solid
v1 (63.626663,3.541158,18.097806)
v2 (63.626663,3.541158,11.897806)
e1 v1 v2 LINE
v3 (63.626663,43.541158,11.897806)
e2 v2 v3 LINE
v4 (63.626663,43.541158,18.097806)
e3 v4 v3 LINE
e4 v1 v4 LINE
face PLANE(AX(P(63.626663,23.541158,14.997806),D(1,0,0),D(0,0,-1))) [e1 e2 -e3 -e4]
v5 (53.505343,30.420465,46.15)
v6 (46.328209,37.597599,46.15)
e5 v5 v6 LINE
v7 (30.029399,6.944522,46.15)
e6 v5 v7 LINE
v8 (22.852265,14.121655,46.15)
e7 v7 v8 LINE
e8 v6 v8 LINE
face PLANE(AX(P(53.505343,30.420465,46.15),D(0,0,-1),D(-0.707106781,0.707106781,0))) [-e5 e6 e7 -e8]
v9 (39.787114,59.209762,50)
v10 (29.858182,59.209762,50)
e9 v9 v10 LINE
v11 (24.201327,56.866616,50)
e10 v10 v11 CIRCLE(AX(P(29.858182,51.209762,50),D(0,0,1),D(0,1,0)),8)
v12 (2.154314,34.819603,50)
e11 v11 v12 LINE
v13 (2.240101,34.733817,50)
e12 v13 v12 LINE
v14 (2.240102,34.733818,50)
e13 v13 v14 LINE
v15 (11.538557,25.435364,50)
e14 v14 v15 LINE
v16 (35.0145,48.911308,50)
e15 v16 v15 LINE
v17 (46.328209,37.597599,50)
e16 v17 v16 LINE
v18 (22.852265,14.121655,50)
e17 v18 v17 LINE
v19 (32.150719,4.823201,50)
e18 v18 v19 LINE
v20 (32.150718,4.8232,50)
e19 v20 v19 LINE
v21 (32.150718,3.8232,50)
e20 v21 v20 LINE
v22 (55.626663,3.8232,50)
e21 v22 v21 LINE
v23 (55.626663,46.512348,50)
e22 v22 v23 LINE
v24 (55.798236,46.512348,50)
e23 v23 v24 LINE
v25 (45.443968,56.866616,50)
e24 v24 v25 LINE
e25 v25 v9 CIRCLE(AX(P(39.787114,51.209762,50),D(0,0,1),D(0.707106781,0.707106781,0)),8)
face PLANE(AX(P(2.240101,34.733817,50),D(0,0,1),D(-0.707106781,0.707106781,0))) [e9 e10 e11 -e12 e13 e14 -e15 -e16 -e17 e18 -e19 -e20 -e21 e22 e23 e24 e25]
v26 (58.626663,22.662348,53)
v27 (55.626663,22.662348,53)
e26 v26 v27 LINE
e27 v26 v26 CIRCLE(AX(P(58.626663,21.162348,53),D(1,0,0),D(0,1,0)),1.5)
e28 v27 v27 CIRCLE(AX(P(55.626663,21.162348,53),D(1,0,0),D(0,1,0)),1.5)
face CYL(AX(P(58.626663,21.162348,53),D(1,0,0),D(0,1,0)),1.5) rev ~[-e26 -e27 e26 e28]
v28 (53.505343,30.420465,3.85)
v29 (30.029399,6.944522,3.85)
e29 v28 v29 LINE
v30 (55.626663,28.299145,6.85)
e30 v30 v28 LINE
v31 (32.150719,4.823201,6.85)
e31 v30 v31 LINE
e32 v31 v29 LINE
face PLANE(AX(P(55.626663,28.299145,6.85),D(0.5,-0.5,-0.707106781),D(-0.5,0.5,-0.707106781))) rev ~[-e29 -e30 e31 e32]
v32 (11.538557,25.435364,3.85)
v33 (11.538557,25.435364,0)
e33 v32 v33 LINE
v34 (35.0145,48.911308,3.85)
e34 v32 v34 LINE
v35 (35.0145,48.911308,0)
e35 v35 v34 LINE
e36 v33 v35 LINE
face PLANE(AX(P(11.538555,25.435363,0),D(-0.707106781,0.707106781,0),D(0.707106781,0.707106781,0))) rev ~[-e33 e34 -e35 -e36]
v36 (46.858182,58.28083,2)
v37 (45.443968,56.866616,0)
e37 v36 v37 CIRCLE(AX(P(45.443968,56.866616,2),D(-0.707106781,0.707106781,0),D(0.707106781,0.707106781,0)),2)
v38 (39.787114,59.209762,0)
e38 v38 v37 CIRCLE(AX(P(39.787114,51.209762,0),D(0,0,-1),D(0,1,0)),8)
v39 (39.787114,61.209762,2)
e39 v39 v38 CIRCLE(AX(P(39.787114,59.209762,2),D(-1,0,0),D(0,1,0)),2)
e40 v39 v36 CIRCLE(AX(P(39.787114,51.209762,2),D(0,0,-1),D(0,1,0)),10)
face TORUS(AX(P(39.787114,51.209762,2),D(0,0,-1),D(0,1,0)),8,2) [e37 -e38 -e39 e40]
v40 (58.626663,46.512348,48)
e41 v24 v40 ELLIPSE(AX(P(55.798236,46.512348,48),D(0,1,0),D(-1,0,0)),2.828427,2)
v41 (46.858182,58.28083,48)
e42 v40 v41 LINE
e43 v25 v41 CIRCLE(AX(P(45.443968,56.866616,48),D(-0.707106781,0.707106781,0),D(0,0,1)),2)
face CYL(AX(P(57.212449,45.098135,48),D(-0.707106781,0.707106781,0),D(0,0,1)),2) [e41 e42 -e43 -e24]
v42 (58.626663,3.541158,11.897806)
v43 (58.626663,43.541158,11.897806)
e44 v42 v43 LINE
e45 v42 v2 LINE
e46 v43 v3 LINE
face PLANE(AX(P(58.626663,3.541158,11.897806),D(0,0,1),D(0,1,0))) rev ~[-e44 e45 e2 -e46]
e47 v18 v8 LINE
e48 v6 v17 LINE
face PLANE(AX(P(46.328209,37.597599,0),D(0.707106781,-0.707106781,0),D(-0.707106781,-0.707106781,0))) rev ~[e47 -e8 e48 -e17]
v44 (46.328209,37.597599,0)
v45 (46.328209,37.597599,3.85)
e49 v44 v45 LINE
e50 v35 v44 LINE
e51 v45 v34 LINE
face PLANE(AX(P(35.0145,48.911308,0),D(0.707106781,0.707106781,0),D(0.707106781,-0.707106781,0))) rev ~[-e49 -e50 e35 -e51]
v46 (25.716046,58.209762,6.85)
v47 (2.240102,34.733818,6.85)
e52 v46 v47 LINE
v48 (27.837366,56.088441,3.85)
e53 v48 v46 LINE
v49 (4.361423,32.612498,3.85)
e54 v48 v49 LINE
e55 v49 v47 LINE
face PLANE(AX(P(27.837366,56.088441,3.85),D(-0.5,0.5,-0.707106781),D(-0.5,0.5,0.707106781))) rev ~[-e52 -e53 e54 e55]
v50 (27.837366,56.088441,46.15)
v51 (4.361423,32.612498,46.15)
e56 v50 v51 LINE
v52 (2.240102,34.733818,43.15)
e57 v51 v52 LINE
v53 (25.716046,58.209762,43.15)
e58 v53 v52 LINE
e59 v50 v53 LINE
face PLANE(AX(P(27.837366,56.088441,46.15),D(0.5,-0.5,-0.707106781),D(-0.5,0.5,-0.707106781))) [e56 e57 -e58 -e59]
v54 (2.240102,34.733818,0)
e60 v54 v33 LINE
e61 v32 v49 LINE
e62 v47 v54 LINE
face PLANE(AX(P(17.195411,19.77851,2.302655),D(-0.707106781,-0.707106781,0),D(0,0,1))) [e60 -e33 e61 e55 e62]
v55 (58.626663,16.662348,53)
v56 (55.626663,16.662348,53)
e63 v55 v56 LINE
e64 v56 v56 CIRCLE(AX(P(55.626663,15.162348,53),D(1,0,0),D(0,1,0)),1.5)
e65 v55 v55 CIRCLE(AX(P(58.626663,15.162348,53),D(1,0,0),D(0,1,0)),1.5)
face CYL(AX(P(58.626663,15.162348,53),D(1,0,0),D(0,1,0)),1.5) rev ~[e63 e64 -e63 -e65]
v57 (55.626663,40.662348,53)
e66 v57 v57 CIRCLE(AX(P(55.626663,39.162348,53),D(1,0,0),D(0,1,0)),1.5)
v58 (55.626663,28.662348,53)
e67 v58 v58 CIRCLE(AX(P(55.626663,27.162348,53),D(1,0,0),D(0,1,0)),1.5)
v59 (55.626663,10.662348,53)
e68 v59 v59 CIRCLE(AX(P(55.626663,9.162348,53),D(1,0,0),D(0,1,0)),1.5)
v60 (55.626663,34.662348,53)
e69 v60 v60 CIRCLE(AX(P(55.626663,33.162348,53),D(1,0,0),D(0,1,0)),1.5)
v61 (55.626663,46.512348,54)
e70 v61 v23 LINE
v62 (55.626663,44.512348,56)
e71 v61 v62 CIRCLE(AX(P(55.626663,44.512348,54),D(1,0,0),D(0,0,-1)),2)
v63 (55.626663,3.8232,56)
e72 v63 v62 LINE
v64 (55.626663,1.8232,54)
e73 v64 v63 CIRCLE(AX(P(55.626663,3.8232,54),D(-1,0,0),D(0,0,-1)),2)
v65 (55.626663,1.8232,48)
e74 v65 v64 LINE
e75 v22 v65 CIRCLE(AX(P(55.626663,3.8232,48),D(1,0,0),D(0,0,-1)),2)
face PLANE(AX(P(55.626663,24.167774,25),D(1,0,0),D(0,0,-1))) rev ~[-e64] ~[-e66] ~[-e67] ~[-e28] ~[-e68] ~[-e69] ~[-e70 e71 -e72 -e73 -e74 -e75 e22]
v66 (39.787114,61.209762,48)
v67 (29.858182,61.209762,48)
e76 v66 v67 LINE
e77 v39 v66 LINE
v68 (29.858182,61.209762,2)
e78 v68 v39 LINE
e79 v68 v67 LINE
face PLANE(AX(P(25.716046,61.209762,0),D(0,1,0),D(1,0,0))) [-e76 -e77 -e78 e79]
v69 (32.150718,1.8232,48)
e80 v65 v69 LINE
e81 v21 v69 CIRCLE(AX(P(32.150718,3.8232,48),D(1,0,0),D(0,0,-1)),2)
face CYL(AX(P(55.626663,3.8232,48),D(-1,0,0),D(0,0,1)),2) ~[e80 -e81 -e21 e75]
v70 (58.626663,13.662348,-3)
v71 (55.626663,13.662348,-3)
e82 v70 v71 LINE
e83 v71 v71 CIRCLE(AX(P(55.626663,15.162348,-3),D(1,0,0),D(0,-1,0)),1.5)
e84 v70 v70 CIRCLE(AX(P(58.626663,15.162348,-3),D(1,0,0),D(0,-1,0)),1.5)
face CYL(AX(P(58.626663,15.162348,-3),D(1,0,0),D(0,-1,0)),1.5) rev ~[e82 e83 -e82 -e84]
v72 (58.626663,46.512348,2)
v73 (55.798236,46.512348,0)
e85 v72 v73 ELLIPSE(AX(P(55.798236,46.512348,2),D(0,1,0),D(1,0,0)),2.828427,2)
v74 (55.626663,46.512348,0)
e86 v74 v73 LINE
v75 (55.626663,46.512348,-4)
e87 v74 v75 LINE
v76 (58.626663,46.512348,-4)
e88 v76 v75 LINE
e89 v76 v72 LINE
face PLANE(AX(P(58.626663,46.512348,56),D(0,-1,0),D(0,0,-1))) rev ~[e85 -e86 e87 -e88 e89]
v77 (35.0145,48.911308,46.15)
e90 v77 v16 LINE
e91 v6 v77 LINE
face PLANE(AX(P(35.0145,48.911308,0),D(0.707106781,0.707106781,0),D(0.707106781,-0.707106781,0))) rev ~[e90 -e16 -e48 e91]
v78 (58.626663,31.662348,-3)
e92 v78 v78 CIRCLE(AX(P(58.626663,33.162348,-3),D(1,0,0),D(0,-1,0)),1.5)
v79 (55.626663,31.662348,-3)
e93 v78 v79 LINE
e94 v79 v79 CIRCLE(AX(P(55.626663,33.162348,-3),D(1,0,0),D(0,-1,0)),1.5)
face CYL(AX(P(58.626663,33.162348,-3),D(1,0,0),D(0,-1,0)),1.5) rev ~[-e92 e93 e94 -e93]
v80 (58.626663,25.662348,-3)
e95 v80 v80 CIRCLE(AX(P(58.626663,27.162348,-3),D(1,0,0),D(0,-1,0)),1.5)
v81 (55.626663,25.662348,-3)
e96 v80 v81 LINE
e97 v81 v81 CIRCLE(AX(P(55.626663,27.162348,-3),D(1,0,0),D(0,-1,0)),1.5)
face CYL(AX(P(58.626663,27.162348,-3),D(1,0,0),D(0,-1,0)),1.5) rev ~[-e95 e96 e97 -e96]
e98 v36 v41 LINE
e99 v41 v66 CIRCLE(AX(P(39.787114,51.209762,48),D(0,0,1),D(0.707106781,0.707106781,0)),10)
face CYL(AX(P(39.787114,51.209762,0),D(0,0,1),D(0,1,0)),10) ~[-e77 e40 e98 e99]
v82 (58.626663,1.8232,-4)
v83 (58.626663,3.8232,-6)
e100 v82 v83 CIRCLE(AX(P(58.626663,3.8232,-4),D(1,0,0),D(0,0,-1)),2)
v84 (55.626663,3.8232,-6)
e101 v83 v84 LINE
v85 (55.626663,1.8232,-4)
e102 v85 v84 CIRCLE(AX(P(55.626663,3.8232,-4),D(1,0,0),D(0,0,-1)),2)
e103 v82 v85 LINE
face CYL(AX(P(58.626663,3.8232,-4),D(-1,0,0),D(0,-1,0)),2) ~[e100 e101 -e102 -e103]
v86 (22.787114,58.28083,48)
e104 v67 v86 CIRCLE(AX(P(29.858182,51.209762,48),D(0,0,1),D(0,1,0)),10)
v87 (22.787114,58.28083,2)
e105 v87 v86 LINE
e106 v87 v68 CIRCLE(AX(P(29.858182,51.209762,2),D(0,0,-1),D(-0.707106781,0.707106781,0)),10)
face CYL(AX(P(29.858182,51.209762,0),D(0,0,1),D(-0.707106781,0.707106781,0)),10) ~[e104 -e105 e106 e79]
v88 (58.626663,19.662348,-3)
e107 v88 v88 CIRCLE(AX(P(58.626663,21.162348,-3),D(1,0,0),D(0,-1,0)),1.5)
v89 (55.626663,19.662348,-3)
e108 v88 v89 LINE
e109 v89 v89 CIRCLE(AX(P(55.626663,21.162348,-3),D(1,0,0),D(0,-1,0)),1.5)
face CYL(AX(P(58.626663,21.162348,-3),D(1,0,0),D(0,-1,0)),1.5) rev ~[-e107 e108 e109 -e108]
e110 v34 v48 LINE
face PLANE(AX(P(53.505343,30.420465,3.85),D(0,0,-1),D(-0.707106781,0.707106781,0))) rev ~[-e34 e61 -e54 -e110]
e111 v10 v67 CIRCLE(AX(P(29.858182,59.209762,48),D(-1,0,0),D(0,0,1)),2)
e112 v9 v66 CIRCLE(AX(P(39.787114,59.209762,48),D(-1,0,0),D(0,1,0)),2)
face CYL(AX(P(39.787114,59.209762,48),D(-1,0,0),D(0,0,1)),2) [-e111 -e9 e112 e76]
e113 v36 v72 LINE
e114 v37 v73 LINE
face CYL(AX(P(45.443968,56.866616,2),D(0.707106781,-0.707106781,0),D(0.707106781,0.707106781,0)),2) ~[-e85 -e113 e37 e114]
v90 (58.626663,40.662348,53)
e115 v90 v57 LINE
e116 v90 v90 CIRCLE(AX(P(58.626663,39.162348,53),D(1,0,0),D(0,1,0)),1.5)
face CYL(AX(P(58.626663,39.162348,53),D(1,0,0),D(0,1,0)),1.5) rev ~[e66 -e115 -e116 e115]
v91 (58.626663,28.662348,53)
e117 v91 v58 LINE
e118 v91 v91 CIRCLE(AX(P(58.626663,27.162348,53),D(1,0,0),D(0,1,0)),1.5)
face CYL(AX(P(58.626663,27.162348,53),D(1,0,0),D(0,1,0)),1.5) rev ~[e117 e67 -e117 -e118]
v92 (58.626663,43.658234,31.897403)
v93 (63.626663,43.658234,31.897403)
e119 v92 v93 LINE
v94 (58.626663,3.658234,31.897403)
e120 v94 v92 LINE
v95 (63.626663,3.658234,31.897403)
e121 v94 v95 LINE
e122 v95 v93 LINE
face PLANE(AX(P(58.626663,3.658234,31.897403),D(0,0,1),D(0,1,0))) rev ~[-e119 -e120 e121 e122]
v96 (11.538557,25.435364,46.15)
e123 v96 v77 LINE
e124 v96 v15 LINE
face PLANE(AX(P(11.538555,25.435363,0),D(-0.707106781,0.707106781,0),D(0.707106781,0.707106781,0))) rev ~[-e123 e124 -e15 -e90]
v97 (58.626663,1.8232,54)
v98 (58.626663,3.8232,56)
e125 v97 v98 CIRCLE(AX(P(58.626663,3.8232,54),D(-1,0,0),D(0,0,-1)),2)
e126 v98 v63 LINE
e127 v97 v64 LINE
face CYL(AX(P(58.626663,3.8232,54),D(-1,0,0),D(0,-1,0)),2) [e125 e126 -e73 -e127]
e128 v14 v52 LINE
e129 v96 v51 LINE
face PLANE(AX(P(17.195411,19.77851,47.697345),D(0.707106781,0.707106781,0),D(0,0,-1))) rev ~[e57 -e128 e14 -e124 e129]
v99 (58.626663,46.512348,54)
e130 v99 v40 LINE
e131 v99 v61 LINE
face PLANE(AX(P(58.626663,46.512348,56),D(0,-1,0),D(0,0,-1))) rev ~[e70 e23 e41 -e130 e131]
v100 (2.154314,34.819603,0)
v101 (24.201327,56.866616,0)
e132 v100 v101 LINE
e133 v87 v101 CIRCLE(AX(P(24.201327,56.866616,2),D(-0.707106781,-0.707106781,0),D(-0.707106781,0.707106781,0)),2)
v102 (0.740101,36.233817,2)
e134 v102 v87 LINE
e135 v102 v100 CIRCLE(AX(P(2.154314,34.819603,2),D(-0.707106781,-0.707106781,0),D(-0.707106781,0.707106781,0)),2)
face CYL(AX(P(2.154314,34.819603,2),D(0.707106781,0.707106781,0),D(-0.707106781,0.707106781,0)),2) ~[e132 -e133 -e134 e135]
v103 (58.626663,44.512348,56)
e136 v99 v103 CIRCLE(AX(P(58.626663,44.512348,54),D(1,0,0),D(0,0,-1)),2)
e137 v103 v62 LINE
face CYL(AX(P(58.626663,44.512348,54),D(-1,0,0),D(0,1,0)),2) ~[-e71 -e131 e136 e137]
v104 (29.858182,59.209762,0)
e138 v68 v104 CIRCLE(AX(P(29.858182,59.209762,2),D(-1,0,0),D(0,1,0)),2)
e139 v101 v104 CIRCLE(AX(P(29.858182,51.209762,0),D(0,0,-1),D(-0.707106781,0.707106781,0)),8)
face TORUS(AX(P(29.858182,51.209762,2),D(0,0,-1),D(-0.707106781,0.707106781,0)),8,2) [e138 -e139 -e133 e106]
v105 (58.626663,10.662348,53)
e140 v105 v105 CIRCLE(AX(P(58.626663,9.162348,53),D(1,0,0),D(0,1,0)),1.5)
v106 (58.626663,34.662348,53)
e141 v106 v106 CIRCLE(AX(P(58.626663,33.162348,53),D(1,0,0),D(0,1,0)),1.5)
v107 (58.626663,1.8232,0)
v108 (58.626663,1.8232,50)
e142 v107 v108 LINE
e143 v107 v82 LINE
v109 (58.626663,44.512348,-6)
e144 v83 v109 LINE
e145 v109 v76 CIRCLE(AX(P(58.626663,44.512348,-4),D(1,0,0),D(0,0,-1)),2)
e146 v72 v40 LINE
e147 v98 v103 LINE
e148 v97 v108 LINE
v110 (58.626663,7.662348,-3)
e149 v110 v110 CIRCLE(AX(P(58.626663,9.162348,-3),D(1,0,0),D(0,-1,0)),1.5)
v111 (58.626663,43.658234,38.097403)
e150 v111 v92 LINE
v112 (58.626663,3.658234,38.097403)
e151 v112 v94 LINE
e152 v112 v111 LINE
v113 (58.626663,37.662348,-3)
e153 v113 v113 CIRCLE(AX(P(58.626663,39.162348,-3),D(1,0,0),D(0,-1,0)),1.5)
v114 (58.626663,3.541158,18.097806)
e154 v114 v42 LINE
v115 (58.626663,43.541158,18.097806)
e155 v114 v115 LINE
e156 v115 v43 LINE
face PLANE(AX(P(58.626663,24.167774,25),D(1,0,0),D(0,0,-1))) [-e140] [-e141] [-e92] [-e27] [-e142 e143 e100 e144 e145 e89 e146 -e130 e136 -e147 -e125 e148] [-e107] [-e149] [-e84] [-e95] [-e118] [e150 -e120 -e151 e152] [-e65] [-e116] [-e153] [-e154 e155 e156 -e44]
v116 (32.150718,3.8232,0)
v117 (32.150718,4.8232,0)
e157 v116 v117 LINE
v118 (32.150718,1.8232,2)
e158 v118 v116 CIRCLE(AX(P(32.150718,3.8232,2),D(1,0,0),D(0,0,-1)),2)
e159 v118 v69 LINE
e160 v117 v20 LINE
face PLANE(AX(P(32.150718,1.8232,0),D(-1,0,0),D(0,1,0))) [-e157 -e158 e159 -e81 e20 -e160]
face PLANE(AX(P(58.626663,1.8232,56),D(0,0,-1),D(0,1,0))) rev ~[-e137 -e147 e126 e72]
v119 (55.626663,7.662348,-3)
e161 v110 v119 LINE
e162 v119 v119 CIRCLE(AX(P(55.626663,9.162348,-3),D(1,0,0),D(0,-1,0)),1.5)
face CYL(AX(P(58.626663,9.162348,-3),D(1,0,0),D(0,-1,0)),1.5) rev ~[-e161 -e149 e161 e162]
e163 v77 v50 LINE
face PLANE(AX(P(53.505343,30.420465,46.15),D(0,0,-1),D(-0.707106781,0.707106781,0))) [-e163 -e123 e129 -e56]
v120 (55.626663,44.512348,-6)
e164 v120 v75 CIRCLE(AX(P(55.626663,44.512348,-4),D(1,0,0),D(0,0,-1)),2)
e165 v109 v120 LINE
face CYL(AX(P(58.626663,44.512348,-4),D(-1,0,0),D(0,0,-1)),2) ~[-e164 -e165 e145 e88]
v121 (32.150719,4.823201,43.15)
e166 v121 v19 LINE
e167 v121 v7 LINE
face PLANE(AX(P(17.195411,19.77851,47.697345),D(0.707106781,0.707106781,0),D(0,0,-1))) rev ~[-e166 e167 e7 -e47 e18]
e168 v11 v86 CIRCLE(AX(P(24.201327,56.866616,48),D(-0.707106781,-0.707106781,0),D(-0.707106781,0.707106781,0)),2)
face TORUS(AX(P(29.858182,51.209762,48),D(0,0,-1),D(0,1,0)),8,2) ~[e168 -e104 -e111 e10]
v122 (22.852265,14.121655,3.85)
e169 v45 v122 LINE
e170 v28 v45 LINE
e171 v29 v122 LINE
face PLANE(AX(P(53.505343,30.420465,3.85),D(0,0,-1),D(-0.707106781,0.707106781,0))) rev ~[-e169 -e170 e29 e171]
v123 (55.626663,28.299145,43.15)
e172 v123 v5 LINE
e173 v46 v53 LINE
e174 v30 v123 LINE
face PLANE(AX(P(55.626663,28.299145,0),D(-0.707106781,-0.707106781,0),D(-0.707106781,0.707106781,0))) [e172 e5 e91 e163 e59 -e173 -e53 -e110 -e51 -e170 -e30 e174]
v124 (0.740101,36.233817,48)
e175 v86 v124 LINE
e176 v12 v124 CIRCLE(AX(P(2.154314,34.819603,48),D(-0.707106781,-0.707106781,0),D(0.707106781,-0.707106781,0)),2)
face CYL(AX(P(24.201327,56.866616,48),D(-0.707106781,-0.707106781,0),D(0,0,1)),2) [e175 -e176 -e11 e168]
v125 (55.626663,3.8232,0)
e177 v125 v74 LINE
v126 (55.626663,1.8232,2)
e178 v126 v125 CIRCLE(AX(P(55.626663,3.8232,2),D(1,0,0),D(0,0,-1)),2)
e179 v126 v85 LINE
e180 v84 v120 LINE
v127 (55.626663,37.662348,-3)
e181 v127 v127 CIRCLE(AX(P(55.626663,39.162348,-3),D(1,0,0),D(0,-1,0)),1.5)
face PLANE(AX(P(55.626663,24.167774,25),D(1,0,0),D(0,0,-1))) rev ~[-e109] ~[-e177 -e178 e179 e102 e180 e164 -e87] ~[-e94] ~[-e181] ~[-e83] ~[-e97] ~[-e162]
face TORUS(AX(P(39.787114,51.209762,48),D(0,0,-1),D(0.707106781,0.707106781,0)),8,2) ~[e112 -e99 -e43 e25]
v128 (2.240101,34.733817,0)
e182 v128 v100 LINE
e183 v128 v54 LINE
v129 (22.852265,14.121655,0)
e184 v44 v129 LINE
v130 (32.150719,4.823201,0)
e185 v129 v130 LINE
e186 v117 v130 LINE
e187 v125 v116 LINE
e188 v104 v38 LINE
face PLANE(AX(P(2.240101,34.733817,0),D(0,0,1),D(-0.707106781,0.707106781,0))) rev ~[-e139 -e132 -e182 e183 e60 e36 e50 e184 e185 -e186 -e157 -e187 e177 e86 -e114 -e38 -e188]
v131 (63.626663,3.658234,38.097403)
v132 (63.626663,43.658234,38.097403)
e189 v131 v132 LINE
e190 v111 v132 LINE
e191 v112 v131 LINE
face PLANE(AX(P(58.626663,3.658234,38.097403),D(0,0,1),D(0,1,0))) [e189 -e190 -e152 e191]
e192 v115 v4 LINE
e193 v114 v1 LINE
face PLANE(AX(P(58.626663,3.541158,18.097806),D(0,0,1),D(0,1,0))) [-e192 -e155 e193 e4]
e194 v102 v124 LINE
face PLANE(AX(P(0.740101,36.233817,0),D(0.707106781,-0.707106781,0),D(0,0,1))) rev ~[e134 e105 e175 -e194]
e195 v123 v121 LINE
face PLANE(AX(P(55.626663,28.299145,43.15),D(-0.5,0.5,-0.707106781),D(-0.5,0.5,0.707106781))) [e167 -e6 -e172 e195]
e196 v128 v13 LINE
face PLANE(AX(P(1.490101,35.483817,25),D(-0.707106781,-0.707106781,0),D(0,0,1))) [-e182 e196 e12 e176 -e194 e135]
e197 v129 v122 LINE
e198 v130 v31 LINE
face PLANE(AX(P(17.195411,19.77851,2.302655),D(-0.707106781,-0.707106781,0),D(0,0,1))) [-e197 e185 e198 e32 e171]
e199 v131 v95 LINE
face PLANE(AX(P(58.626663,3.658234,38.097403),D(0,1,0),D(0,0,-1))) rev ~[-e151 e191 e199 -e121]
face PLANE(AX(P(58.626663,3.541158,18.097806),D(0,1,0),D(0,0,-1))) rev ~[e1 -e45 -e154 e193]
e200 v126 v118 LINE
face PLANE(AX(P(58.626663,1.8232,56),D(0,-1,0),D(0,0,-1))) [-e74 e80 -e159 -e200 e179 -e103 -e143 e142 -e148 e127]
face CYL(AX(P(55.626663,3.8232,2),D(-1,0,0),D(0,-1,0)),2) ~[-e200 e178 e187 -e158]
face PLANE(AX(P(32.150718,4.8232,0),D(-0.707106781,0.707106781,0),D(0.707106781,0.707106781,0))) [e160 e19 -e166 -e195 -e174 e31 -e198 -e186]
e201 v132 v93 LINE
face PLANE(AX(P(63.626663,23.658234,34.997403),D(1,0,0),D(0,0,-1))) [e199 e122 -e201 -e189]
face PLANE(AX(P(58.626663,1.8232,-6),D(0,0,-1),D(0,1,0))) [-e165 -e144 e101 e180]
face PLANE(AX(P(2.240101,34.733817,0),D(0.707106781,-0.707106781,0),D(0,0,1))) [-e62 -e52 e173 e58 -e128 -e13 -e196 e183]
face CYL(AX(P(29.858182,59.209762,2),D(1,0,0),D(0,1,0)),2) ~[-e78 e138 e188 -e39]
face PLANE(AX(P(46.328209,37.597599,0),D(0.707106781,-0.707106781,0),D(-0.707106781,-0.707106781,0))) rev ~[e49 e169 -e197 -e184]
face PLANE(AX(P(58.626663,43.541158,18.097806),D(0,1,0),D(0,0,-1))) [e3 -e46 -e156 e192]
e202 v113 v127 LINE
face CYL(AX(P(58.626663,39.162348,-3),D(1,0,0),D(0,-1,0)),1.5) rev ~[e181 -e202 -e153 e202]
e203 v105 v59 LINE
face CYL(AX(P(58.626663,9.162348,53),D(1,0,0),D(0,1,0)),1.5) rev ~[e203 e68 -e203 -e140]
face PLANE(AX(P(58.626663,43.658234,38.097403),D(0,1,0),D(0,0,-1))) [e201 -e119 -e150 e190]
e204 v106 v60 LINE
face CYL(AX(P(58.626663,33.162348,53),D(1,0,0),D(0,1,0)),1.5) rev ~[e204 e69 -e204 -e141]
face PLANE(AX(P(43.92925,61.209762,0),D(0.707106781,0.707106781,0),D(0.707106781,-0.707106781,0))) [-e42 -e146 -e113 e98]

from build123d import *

# Parameters (mm, degrees)
EXTRUDE_1_DEPTH     = 50
EXTRUDE_3_DEPTH     = 33.199998
EXTRUDE_4_REACH     = 79.048
SKETCH_4_W          = 50
SKETCH_4_H          = 2.121320344
CUT_EXTRUDE_1_DEPTH = 99.405896905
SKETCH_8_W          = 62
SKETCH_8_H          = 44.689148571
SKETCH_8_R          = 1.5
EXTRUDE_5_DEPTH     = 3
FILLET_1_R          = 10
FILLET_2_R          = 2
SKETCH_9_W          = 6.2
SKETCH_9_H          = 40
EXTRUDE_6_DEPTH     = 5
SKETCH_10_W         = 6.2
SKETCH_10_H         = 40
EXTRUDE_7_DEPTH     = 5


with BuildPart() as part:
    # 草图1 → 凸台-拉伸1 (new body)
    with BuildSketch(Plane.XY):
        Polygon((25.716046069, 61.209761814), (43.929249505, 61.209761814), (58.626662914, 46.512348406), (58.626662914, 1.823199835), (32.150717778, 1.823199835), (32.150717778, 4.823199835), (55.626662914, 28.29914497), (25.716046069, 58.209761814), align=None)
    extrude(amount=EXTRUDE_1_DEPTH)

    # 草图3 → 凸台-拉伸3 (add)
    with BuildSketch(Plane(origin=(41.962903942, 41.962903942, 0), x_dir=(0, 0, 1), z_dir=(-0.7071067811865476, -0.7071067811865476, 0))):
        Polygon((50, -19.323473251), (46.15, -19.323473251), (43.15, -19.323473251), (46.15, -16.323473251), (46.15, 19.976526749), (43.15, 22.976526749), (46.15, 22.976526749), (50, 22.976526749), align=None)
        Polygon((0, 22.976526749), (0, -19.323473251), (3.85, -19.323473251), (6.85, -19.323473251), (3.85, -16.323473251), (3.85, 19.976526749), (6.85, 22.976526749), (3.85, 22.976526749), align=None)
    extrude(amount=EXTRUDE_3_DEPTH)

    # 凸台-拉伸4: up to this plane
    extrude_4_end = Plane(origin=(25.716046069, 61.209761814, 50), z_dir=(0, -1, 0))
    # 草图4 → 凸台-拉伸4 (add, up to the surface)
    with BuildSketch(Plane(origin=(18.486958806, 18.486958806, 0), x_dir=(0, 0, 1), z_dir=(-0.7071067811865477, -0.7071067811865475, 0)), mode=Mode.PRIVATE) as extrude_4_sk1:
        with Locations((25, 24.037186921)):
            Rectangle(SKETCH_4_W, SKETCH_4_H)
    extrude_4_tool1 = split(extrude(extrude_4_sk1.sketch, amount=-EXTRUDE_4_REACH, mode=Mode.PRIVATE), bisect_by=extrude_4_end, keep=Keep.BOTH, mode=Mode.PRIVATE)
    add(extrude_4_tool1.solids().sort_by_distance((1.490101, 35.483817, 25))[0])

    # 草图5 → 切除-拉伸1 (cut, through all)
    with BuildSketch(Plane(origin=(0, 0, 0), x_dir=(-1, 0, 0), z_dir=(0, 0, -1))):
        Polygon((-35.014500242, 48.911307642), (-46.328208741, 37.597599143), (-22.852263606, 14.121654007), (-11.538555107, 25.435362506), align=None)
    extrude(amount=-CUT_EXTRUDE_1_DEPTH, mode=Mode.SUBTRACT)

    # 草图8 → 凸台-拉伸5 (add)
    with BuildSketch(Plane(origin=(58.626662914, 0, 0), x_dir=(0, 0, -1), z_dir=(1, 0, 0))):
        with Locations((-25, 24.16777412)):
            Rectangle(SKETCH_8_W, SKETCH_8_H)
        with Locations(Location((-53, 39.162348406, 0), (0, 0, 90))):
            Circle(SKETCH_8_R, mode=Mode.SUBTRACT)
        with Locations(Location((-53, 33.162348406, 0), (0, 0, 90))):
            Circle(SKETCH_8_R, mode=Mode.SUBTRACT)
        with Locations(Location((-53, 27.162348406, 0), (0, 0, 90))):
            Circle(SKETCH_8_R, mode=Mode.SUBTRACT)
        with Locations(Location((-53, 21.162348406, 0), (0, 0, 90))):
            Circle(SKETCH_8_R, mode=Mode.SUBTRACT)
        with Locations(Location((-53, 15.162348406, 0), (0, 0, 90))):
            Circle(SKETCH_8_R, mode=Mode.SUBTRACT)
        with Locations(Location((-53, 9.162348406, 0), (0, 0, 90))):
            Circle(SKETCH_8_R, mode=Mode.SUBTRACT)
        with Locations(Location((3, 9.162348406, 0), (0, 0, 270))):
            Circle(SKETCH_8_R, mode=Mode.SUBTRACT)
        with Locations(Location((3, 15.162348406, 0), (0, 0, 270))):
            Circle(SKETCH_8_R, mode=Mode.SUBTRACT)
        with Locations(Location((3, 21.162348406, 0), (0, 0, 270))):
            Circle(SKETCH_8_R, mode=Mode.SUBTRACT)
        with Locations(Location((3, 27.162348406, 0), (0, 0, 270))):
            Circle(SKETCH_8_R, mode=Mode.SUBTRACT)
        with Locations(Location((3, 33.162348406, 0), (0, 0, 270))):
            Circle(SKETCH_8_R, mode=Mode.SUBTRACT)
        with Locations(Location((3, 39.162348406, 0), (0, 0, 270))):
            Circle(SKETCH_8_R, mode=Mode.SUBTRACT)
    extrude(amount=-EXTRUDE_5_DEPTH)

    # 圆角1
    fillet_1_edges = [part.edges().sort_by_distance(p)[0] for p in [
        (25.716046069, 61.209761814, 25),
        (43.929249505, 61.209761814, 25),
    ]]
    fillet(fillet_1_edges, radius=FILLET_1_R)

    # 圆角2
    fillet_2_edges = [part.edges().sort_by_distance(p)[0] for p in [
        (52.742422303, 52.396589016, 0),
        (57.126662914, 1.823199835, -6),
        (57.126662914, 1.823199835, 56),
        (57.126662914, 46.512348406, 56),
        (57.126662914, 46.512348406, -6),
        (34.822647787, 61.209761814, 0),
        (34.822647787, 61.209761814, 50),
        (11.763607408, 47.257323152, 0),
        (26.031347369, 60.448557139, 0),
        (43.613948205, 60.448557139, 0),
        (11.763607408, 47.257323152, 50),
        (26.031347369, 60.448557139, 50),
        (43.613948205, 60.448557139, 50),
        (43.888690346, 1.823199835, 50),
        (43.888690346, 1.823199835, 0),
        (52.742422303, 52.396589016, 50),
    ]]
    fillet(fillet_2_edges, radius=FILLET_2_R)

    # 草图9 → 凸台-拉伸6 (add)
    with BuildSketch(Plane(origin=(58.626662914, 0, 0), x_dir=(0, 0, -1), z_dir=(1, 0, 0))):
        with Locations((-34.99740251, 23.658233783)):
            Rectangle(SKETCH_9_W, SKETCH_9_H)
    extrude(amount=EXTRUDE_6_DEPTH)

    # 草图10 → 凸台-拉伸7 (add)
    with BuildSketch(Plane(origin=(58.626662914, 0, 0), x_dir=(0, 0, -1), z_dir=(1, 0, 0))):
        with Locations((-14.997806006, 23.541157616)):
            Rectangle(SKETCH_10_W, SKETCH_10_H)
    extrude(amount=EXTRUDE_7_DEPTH)


solid = part.part
